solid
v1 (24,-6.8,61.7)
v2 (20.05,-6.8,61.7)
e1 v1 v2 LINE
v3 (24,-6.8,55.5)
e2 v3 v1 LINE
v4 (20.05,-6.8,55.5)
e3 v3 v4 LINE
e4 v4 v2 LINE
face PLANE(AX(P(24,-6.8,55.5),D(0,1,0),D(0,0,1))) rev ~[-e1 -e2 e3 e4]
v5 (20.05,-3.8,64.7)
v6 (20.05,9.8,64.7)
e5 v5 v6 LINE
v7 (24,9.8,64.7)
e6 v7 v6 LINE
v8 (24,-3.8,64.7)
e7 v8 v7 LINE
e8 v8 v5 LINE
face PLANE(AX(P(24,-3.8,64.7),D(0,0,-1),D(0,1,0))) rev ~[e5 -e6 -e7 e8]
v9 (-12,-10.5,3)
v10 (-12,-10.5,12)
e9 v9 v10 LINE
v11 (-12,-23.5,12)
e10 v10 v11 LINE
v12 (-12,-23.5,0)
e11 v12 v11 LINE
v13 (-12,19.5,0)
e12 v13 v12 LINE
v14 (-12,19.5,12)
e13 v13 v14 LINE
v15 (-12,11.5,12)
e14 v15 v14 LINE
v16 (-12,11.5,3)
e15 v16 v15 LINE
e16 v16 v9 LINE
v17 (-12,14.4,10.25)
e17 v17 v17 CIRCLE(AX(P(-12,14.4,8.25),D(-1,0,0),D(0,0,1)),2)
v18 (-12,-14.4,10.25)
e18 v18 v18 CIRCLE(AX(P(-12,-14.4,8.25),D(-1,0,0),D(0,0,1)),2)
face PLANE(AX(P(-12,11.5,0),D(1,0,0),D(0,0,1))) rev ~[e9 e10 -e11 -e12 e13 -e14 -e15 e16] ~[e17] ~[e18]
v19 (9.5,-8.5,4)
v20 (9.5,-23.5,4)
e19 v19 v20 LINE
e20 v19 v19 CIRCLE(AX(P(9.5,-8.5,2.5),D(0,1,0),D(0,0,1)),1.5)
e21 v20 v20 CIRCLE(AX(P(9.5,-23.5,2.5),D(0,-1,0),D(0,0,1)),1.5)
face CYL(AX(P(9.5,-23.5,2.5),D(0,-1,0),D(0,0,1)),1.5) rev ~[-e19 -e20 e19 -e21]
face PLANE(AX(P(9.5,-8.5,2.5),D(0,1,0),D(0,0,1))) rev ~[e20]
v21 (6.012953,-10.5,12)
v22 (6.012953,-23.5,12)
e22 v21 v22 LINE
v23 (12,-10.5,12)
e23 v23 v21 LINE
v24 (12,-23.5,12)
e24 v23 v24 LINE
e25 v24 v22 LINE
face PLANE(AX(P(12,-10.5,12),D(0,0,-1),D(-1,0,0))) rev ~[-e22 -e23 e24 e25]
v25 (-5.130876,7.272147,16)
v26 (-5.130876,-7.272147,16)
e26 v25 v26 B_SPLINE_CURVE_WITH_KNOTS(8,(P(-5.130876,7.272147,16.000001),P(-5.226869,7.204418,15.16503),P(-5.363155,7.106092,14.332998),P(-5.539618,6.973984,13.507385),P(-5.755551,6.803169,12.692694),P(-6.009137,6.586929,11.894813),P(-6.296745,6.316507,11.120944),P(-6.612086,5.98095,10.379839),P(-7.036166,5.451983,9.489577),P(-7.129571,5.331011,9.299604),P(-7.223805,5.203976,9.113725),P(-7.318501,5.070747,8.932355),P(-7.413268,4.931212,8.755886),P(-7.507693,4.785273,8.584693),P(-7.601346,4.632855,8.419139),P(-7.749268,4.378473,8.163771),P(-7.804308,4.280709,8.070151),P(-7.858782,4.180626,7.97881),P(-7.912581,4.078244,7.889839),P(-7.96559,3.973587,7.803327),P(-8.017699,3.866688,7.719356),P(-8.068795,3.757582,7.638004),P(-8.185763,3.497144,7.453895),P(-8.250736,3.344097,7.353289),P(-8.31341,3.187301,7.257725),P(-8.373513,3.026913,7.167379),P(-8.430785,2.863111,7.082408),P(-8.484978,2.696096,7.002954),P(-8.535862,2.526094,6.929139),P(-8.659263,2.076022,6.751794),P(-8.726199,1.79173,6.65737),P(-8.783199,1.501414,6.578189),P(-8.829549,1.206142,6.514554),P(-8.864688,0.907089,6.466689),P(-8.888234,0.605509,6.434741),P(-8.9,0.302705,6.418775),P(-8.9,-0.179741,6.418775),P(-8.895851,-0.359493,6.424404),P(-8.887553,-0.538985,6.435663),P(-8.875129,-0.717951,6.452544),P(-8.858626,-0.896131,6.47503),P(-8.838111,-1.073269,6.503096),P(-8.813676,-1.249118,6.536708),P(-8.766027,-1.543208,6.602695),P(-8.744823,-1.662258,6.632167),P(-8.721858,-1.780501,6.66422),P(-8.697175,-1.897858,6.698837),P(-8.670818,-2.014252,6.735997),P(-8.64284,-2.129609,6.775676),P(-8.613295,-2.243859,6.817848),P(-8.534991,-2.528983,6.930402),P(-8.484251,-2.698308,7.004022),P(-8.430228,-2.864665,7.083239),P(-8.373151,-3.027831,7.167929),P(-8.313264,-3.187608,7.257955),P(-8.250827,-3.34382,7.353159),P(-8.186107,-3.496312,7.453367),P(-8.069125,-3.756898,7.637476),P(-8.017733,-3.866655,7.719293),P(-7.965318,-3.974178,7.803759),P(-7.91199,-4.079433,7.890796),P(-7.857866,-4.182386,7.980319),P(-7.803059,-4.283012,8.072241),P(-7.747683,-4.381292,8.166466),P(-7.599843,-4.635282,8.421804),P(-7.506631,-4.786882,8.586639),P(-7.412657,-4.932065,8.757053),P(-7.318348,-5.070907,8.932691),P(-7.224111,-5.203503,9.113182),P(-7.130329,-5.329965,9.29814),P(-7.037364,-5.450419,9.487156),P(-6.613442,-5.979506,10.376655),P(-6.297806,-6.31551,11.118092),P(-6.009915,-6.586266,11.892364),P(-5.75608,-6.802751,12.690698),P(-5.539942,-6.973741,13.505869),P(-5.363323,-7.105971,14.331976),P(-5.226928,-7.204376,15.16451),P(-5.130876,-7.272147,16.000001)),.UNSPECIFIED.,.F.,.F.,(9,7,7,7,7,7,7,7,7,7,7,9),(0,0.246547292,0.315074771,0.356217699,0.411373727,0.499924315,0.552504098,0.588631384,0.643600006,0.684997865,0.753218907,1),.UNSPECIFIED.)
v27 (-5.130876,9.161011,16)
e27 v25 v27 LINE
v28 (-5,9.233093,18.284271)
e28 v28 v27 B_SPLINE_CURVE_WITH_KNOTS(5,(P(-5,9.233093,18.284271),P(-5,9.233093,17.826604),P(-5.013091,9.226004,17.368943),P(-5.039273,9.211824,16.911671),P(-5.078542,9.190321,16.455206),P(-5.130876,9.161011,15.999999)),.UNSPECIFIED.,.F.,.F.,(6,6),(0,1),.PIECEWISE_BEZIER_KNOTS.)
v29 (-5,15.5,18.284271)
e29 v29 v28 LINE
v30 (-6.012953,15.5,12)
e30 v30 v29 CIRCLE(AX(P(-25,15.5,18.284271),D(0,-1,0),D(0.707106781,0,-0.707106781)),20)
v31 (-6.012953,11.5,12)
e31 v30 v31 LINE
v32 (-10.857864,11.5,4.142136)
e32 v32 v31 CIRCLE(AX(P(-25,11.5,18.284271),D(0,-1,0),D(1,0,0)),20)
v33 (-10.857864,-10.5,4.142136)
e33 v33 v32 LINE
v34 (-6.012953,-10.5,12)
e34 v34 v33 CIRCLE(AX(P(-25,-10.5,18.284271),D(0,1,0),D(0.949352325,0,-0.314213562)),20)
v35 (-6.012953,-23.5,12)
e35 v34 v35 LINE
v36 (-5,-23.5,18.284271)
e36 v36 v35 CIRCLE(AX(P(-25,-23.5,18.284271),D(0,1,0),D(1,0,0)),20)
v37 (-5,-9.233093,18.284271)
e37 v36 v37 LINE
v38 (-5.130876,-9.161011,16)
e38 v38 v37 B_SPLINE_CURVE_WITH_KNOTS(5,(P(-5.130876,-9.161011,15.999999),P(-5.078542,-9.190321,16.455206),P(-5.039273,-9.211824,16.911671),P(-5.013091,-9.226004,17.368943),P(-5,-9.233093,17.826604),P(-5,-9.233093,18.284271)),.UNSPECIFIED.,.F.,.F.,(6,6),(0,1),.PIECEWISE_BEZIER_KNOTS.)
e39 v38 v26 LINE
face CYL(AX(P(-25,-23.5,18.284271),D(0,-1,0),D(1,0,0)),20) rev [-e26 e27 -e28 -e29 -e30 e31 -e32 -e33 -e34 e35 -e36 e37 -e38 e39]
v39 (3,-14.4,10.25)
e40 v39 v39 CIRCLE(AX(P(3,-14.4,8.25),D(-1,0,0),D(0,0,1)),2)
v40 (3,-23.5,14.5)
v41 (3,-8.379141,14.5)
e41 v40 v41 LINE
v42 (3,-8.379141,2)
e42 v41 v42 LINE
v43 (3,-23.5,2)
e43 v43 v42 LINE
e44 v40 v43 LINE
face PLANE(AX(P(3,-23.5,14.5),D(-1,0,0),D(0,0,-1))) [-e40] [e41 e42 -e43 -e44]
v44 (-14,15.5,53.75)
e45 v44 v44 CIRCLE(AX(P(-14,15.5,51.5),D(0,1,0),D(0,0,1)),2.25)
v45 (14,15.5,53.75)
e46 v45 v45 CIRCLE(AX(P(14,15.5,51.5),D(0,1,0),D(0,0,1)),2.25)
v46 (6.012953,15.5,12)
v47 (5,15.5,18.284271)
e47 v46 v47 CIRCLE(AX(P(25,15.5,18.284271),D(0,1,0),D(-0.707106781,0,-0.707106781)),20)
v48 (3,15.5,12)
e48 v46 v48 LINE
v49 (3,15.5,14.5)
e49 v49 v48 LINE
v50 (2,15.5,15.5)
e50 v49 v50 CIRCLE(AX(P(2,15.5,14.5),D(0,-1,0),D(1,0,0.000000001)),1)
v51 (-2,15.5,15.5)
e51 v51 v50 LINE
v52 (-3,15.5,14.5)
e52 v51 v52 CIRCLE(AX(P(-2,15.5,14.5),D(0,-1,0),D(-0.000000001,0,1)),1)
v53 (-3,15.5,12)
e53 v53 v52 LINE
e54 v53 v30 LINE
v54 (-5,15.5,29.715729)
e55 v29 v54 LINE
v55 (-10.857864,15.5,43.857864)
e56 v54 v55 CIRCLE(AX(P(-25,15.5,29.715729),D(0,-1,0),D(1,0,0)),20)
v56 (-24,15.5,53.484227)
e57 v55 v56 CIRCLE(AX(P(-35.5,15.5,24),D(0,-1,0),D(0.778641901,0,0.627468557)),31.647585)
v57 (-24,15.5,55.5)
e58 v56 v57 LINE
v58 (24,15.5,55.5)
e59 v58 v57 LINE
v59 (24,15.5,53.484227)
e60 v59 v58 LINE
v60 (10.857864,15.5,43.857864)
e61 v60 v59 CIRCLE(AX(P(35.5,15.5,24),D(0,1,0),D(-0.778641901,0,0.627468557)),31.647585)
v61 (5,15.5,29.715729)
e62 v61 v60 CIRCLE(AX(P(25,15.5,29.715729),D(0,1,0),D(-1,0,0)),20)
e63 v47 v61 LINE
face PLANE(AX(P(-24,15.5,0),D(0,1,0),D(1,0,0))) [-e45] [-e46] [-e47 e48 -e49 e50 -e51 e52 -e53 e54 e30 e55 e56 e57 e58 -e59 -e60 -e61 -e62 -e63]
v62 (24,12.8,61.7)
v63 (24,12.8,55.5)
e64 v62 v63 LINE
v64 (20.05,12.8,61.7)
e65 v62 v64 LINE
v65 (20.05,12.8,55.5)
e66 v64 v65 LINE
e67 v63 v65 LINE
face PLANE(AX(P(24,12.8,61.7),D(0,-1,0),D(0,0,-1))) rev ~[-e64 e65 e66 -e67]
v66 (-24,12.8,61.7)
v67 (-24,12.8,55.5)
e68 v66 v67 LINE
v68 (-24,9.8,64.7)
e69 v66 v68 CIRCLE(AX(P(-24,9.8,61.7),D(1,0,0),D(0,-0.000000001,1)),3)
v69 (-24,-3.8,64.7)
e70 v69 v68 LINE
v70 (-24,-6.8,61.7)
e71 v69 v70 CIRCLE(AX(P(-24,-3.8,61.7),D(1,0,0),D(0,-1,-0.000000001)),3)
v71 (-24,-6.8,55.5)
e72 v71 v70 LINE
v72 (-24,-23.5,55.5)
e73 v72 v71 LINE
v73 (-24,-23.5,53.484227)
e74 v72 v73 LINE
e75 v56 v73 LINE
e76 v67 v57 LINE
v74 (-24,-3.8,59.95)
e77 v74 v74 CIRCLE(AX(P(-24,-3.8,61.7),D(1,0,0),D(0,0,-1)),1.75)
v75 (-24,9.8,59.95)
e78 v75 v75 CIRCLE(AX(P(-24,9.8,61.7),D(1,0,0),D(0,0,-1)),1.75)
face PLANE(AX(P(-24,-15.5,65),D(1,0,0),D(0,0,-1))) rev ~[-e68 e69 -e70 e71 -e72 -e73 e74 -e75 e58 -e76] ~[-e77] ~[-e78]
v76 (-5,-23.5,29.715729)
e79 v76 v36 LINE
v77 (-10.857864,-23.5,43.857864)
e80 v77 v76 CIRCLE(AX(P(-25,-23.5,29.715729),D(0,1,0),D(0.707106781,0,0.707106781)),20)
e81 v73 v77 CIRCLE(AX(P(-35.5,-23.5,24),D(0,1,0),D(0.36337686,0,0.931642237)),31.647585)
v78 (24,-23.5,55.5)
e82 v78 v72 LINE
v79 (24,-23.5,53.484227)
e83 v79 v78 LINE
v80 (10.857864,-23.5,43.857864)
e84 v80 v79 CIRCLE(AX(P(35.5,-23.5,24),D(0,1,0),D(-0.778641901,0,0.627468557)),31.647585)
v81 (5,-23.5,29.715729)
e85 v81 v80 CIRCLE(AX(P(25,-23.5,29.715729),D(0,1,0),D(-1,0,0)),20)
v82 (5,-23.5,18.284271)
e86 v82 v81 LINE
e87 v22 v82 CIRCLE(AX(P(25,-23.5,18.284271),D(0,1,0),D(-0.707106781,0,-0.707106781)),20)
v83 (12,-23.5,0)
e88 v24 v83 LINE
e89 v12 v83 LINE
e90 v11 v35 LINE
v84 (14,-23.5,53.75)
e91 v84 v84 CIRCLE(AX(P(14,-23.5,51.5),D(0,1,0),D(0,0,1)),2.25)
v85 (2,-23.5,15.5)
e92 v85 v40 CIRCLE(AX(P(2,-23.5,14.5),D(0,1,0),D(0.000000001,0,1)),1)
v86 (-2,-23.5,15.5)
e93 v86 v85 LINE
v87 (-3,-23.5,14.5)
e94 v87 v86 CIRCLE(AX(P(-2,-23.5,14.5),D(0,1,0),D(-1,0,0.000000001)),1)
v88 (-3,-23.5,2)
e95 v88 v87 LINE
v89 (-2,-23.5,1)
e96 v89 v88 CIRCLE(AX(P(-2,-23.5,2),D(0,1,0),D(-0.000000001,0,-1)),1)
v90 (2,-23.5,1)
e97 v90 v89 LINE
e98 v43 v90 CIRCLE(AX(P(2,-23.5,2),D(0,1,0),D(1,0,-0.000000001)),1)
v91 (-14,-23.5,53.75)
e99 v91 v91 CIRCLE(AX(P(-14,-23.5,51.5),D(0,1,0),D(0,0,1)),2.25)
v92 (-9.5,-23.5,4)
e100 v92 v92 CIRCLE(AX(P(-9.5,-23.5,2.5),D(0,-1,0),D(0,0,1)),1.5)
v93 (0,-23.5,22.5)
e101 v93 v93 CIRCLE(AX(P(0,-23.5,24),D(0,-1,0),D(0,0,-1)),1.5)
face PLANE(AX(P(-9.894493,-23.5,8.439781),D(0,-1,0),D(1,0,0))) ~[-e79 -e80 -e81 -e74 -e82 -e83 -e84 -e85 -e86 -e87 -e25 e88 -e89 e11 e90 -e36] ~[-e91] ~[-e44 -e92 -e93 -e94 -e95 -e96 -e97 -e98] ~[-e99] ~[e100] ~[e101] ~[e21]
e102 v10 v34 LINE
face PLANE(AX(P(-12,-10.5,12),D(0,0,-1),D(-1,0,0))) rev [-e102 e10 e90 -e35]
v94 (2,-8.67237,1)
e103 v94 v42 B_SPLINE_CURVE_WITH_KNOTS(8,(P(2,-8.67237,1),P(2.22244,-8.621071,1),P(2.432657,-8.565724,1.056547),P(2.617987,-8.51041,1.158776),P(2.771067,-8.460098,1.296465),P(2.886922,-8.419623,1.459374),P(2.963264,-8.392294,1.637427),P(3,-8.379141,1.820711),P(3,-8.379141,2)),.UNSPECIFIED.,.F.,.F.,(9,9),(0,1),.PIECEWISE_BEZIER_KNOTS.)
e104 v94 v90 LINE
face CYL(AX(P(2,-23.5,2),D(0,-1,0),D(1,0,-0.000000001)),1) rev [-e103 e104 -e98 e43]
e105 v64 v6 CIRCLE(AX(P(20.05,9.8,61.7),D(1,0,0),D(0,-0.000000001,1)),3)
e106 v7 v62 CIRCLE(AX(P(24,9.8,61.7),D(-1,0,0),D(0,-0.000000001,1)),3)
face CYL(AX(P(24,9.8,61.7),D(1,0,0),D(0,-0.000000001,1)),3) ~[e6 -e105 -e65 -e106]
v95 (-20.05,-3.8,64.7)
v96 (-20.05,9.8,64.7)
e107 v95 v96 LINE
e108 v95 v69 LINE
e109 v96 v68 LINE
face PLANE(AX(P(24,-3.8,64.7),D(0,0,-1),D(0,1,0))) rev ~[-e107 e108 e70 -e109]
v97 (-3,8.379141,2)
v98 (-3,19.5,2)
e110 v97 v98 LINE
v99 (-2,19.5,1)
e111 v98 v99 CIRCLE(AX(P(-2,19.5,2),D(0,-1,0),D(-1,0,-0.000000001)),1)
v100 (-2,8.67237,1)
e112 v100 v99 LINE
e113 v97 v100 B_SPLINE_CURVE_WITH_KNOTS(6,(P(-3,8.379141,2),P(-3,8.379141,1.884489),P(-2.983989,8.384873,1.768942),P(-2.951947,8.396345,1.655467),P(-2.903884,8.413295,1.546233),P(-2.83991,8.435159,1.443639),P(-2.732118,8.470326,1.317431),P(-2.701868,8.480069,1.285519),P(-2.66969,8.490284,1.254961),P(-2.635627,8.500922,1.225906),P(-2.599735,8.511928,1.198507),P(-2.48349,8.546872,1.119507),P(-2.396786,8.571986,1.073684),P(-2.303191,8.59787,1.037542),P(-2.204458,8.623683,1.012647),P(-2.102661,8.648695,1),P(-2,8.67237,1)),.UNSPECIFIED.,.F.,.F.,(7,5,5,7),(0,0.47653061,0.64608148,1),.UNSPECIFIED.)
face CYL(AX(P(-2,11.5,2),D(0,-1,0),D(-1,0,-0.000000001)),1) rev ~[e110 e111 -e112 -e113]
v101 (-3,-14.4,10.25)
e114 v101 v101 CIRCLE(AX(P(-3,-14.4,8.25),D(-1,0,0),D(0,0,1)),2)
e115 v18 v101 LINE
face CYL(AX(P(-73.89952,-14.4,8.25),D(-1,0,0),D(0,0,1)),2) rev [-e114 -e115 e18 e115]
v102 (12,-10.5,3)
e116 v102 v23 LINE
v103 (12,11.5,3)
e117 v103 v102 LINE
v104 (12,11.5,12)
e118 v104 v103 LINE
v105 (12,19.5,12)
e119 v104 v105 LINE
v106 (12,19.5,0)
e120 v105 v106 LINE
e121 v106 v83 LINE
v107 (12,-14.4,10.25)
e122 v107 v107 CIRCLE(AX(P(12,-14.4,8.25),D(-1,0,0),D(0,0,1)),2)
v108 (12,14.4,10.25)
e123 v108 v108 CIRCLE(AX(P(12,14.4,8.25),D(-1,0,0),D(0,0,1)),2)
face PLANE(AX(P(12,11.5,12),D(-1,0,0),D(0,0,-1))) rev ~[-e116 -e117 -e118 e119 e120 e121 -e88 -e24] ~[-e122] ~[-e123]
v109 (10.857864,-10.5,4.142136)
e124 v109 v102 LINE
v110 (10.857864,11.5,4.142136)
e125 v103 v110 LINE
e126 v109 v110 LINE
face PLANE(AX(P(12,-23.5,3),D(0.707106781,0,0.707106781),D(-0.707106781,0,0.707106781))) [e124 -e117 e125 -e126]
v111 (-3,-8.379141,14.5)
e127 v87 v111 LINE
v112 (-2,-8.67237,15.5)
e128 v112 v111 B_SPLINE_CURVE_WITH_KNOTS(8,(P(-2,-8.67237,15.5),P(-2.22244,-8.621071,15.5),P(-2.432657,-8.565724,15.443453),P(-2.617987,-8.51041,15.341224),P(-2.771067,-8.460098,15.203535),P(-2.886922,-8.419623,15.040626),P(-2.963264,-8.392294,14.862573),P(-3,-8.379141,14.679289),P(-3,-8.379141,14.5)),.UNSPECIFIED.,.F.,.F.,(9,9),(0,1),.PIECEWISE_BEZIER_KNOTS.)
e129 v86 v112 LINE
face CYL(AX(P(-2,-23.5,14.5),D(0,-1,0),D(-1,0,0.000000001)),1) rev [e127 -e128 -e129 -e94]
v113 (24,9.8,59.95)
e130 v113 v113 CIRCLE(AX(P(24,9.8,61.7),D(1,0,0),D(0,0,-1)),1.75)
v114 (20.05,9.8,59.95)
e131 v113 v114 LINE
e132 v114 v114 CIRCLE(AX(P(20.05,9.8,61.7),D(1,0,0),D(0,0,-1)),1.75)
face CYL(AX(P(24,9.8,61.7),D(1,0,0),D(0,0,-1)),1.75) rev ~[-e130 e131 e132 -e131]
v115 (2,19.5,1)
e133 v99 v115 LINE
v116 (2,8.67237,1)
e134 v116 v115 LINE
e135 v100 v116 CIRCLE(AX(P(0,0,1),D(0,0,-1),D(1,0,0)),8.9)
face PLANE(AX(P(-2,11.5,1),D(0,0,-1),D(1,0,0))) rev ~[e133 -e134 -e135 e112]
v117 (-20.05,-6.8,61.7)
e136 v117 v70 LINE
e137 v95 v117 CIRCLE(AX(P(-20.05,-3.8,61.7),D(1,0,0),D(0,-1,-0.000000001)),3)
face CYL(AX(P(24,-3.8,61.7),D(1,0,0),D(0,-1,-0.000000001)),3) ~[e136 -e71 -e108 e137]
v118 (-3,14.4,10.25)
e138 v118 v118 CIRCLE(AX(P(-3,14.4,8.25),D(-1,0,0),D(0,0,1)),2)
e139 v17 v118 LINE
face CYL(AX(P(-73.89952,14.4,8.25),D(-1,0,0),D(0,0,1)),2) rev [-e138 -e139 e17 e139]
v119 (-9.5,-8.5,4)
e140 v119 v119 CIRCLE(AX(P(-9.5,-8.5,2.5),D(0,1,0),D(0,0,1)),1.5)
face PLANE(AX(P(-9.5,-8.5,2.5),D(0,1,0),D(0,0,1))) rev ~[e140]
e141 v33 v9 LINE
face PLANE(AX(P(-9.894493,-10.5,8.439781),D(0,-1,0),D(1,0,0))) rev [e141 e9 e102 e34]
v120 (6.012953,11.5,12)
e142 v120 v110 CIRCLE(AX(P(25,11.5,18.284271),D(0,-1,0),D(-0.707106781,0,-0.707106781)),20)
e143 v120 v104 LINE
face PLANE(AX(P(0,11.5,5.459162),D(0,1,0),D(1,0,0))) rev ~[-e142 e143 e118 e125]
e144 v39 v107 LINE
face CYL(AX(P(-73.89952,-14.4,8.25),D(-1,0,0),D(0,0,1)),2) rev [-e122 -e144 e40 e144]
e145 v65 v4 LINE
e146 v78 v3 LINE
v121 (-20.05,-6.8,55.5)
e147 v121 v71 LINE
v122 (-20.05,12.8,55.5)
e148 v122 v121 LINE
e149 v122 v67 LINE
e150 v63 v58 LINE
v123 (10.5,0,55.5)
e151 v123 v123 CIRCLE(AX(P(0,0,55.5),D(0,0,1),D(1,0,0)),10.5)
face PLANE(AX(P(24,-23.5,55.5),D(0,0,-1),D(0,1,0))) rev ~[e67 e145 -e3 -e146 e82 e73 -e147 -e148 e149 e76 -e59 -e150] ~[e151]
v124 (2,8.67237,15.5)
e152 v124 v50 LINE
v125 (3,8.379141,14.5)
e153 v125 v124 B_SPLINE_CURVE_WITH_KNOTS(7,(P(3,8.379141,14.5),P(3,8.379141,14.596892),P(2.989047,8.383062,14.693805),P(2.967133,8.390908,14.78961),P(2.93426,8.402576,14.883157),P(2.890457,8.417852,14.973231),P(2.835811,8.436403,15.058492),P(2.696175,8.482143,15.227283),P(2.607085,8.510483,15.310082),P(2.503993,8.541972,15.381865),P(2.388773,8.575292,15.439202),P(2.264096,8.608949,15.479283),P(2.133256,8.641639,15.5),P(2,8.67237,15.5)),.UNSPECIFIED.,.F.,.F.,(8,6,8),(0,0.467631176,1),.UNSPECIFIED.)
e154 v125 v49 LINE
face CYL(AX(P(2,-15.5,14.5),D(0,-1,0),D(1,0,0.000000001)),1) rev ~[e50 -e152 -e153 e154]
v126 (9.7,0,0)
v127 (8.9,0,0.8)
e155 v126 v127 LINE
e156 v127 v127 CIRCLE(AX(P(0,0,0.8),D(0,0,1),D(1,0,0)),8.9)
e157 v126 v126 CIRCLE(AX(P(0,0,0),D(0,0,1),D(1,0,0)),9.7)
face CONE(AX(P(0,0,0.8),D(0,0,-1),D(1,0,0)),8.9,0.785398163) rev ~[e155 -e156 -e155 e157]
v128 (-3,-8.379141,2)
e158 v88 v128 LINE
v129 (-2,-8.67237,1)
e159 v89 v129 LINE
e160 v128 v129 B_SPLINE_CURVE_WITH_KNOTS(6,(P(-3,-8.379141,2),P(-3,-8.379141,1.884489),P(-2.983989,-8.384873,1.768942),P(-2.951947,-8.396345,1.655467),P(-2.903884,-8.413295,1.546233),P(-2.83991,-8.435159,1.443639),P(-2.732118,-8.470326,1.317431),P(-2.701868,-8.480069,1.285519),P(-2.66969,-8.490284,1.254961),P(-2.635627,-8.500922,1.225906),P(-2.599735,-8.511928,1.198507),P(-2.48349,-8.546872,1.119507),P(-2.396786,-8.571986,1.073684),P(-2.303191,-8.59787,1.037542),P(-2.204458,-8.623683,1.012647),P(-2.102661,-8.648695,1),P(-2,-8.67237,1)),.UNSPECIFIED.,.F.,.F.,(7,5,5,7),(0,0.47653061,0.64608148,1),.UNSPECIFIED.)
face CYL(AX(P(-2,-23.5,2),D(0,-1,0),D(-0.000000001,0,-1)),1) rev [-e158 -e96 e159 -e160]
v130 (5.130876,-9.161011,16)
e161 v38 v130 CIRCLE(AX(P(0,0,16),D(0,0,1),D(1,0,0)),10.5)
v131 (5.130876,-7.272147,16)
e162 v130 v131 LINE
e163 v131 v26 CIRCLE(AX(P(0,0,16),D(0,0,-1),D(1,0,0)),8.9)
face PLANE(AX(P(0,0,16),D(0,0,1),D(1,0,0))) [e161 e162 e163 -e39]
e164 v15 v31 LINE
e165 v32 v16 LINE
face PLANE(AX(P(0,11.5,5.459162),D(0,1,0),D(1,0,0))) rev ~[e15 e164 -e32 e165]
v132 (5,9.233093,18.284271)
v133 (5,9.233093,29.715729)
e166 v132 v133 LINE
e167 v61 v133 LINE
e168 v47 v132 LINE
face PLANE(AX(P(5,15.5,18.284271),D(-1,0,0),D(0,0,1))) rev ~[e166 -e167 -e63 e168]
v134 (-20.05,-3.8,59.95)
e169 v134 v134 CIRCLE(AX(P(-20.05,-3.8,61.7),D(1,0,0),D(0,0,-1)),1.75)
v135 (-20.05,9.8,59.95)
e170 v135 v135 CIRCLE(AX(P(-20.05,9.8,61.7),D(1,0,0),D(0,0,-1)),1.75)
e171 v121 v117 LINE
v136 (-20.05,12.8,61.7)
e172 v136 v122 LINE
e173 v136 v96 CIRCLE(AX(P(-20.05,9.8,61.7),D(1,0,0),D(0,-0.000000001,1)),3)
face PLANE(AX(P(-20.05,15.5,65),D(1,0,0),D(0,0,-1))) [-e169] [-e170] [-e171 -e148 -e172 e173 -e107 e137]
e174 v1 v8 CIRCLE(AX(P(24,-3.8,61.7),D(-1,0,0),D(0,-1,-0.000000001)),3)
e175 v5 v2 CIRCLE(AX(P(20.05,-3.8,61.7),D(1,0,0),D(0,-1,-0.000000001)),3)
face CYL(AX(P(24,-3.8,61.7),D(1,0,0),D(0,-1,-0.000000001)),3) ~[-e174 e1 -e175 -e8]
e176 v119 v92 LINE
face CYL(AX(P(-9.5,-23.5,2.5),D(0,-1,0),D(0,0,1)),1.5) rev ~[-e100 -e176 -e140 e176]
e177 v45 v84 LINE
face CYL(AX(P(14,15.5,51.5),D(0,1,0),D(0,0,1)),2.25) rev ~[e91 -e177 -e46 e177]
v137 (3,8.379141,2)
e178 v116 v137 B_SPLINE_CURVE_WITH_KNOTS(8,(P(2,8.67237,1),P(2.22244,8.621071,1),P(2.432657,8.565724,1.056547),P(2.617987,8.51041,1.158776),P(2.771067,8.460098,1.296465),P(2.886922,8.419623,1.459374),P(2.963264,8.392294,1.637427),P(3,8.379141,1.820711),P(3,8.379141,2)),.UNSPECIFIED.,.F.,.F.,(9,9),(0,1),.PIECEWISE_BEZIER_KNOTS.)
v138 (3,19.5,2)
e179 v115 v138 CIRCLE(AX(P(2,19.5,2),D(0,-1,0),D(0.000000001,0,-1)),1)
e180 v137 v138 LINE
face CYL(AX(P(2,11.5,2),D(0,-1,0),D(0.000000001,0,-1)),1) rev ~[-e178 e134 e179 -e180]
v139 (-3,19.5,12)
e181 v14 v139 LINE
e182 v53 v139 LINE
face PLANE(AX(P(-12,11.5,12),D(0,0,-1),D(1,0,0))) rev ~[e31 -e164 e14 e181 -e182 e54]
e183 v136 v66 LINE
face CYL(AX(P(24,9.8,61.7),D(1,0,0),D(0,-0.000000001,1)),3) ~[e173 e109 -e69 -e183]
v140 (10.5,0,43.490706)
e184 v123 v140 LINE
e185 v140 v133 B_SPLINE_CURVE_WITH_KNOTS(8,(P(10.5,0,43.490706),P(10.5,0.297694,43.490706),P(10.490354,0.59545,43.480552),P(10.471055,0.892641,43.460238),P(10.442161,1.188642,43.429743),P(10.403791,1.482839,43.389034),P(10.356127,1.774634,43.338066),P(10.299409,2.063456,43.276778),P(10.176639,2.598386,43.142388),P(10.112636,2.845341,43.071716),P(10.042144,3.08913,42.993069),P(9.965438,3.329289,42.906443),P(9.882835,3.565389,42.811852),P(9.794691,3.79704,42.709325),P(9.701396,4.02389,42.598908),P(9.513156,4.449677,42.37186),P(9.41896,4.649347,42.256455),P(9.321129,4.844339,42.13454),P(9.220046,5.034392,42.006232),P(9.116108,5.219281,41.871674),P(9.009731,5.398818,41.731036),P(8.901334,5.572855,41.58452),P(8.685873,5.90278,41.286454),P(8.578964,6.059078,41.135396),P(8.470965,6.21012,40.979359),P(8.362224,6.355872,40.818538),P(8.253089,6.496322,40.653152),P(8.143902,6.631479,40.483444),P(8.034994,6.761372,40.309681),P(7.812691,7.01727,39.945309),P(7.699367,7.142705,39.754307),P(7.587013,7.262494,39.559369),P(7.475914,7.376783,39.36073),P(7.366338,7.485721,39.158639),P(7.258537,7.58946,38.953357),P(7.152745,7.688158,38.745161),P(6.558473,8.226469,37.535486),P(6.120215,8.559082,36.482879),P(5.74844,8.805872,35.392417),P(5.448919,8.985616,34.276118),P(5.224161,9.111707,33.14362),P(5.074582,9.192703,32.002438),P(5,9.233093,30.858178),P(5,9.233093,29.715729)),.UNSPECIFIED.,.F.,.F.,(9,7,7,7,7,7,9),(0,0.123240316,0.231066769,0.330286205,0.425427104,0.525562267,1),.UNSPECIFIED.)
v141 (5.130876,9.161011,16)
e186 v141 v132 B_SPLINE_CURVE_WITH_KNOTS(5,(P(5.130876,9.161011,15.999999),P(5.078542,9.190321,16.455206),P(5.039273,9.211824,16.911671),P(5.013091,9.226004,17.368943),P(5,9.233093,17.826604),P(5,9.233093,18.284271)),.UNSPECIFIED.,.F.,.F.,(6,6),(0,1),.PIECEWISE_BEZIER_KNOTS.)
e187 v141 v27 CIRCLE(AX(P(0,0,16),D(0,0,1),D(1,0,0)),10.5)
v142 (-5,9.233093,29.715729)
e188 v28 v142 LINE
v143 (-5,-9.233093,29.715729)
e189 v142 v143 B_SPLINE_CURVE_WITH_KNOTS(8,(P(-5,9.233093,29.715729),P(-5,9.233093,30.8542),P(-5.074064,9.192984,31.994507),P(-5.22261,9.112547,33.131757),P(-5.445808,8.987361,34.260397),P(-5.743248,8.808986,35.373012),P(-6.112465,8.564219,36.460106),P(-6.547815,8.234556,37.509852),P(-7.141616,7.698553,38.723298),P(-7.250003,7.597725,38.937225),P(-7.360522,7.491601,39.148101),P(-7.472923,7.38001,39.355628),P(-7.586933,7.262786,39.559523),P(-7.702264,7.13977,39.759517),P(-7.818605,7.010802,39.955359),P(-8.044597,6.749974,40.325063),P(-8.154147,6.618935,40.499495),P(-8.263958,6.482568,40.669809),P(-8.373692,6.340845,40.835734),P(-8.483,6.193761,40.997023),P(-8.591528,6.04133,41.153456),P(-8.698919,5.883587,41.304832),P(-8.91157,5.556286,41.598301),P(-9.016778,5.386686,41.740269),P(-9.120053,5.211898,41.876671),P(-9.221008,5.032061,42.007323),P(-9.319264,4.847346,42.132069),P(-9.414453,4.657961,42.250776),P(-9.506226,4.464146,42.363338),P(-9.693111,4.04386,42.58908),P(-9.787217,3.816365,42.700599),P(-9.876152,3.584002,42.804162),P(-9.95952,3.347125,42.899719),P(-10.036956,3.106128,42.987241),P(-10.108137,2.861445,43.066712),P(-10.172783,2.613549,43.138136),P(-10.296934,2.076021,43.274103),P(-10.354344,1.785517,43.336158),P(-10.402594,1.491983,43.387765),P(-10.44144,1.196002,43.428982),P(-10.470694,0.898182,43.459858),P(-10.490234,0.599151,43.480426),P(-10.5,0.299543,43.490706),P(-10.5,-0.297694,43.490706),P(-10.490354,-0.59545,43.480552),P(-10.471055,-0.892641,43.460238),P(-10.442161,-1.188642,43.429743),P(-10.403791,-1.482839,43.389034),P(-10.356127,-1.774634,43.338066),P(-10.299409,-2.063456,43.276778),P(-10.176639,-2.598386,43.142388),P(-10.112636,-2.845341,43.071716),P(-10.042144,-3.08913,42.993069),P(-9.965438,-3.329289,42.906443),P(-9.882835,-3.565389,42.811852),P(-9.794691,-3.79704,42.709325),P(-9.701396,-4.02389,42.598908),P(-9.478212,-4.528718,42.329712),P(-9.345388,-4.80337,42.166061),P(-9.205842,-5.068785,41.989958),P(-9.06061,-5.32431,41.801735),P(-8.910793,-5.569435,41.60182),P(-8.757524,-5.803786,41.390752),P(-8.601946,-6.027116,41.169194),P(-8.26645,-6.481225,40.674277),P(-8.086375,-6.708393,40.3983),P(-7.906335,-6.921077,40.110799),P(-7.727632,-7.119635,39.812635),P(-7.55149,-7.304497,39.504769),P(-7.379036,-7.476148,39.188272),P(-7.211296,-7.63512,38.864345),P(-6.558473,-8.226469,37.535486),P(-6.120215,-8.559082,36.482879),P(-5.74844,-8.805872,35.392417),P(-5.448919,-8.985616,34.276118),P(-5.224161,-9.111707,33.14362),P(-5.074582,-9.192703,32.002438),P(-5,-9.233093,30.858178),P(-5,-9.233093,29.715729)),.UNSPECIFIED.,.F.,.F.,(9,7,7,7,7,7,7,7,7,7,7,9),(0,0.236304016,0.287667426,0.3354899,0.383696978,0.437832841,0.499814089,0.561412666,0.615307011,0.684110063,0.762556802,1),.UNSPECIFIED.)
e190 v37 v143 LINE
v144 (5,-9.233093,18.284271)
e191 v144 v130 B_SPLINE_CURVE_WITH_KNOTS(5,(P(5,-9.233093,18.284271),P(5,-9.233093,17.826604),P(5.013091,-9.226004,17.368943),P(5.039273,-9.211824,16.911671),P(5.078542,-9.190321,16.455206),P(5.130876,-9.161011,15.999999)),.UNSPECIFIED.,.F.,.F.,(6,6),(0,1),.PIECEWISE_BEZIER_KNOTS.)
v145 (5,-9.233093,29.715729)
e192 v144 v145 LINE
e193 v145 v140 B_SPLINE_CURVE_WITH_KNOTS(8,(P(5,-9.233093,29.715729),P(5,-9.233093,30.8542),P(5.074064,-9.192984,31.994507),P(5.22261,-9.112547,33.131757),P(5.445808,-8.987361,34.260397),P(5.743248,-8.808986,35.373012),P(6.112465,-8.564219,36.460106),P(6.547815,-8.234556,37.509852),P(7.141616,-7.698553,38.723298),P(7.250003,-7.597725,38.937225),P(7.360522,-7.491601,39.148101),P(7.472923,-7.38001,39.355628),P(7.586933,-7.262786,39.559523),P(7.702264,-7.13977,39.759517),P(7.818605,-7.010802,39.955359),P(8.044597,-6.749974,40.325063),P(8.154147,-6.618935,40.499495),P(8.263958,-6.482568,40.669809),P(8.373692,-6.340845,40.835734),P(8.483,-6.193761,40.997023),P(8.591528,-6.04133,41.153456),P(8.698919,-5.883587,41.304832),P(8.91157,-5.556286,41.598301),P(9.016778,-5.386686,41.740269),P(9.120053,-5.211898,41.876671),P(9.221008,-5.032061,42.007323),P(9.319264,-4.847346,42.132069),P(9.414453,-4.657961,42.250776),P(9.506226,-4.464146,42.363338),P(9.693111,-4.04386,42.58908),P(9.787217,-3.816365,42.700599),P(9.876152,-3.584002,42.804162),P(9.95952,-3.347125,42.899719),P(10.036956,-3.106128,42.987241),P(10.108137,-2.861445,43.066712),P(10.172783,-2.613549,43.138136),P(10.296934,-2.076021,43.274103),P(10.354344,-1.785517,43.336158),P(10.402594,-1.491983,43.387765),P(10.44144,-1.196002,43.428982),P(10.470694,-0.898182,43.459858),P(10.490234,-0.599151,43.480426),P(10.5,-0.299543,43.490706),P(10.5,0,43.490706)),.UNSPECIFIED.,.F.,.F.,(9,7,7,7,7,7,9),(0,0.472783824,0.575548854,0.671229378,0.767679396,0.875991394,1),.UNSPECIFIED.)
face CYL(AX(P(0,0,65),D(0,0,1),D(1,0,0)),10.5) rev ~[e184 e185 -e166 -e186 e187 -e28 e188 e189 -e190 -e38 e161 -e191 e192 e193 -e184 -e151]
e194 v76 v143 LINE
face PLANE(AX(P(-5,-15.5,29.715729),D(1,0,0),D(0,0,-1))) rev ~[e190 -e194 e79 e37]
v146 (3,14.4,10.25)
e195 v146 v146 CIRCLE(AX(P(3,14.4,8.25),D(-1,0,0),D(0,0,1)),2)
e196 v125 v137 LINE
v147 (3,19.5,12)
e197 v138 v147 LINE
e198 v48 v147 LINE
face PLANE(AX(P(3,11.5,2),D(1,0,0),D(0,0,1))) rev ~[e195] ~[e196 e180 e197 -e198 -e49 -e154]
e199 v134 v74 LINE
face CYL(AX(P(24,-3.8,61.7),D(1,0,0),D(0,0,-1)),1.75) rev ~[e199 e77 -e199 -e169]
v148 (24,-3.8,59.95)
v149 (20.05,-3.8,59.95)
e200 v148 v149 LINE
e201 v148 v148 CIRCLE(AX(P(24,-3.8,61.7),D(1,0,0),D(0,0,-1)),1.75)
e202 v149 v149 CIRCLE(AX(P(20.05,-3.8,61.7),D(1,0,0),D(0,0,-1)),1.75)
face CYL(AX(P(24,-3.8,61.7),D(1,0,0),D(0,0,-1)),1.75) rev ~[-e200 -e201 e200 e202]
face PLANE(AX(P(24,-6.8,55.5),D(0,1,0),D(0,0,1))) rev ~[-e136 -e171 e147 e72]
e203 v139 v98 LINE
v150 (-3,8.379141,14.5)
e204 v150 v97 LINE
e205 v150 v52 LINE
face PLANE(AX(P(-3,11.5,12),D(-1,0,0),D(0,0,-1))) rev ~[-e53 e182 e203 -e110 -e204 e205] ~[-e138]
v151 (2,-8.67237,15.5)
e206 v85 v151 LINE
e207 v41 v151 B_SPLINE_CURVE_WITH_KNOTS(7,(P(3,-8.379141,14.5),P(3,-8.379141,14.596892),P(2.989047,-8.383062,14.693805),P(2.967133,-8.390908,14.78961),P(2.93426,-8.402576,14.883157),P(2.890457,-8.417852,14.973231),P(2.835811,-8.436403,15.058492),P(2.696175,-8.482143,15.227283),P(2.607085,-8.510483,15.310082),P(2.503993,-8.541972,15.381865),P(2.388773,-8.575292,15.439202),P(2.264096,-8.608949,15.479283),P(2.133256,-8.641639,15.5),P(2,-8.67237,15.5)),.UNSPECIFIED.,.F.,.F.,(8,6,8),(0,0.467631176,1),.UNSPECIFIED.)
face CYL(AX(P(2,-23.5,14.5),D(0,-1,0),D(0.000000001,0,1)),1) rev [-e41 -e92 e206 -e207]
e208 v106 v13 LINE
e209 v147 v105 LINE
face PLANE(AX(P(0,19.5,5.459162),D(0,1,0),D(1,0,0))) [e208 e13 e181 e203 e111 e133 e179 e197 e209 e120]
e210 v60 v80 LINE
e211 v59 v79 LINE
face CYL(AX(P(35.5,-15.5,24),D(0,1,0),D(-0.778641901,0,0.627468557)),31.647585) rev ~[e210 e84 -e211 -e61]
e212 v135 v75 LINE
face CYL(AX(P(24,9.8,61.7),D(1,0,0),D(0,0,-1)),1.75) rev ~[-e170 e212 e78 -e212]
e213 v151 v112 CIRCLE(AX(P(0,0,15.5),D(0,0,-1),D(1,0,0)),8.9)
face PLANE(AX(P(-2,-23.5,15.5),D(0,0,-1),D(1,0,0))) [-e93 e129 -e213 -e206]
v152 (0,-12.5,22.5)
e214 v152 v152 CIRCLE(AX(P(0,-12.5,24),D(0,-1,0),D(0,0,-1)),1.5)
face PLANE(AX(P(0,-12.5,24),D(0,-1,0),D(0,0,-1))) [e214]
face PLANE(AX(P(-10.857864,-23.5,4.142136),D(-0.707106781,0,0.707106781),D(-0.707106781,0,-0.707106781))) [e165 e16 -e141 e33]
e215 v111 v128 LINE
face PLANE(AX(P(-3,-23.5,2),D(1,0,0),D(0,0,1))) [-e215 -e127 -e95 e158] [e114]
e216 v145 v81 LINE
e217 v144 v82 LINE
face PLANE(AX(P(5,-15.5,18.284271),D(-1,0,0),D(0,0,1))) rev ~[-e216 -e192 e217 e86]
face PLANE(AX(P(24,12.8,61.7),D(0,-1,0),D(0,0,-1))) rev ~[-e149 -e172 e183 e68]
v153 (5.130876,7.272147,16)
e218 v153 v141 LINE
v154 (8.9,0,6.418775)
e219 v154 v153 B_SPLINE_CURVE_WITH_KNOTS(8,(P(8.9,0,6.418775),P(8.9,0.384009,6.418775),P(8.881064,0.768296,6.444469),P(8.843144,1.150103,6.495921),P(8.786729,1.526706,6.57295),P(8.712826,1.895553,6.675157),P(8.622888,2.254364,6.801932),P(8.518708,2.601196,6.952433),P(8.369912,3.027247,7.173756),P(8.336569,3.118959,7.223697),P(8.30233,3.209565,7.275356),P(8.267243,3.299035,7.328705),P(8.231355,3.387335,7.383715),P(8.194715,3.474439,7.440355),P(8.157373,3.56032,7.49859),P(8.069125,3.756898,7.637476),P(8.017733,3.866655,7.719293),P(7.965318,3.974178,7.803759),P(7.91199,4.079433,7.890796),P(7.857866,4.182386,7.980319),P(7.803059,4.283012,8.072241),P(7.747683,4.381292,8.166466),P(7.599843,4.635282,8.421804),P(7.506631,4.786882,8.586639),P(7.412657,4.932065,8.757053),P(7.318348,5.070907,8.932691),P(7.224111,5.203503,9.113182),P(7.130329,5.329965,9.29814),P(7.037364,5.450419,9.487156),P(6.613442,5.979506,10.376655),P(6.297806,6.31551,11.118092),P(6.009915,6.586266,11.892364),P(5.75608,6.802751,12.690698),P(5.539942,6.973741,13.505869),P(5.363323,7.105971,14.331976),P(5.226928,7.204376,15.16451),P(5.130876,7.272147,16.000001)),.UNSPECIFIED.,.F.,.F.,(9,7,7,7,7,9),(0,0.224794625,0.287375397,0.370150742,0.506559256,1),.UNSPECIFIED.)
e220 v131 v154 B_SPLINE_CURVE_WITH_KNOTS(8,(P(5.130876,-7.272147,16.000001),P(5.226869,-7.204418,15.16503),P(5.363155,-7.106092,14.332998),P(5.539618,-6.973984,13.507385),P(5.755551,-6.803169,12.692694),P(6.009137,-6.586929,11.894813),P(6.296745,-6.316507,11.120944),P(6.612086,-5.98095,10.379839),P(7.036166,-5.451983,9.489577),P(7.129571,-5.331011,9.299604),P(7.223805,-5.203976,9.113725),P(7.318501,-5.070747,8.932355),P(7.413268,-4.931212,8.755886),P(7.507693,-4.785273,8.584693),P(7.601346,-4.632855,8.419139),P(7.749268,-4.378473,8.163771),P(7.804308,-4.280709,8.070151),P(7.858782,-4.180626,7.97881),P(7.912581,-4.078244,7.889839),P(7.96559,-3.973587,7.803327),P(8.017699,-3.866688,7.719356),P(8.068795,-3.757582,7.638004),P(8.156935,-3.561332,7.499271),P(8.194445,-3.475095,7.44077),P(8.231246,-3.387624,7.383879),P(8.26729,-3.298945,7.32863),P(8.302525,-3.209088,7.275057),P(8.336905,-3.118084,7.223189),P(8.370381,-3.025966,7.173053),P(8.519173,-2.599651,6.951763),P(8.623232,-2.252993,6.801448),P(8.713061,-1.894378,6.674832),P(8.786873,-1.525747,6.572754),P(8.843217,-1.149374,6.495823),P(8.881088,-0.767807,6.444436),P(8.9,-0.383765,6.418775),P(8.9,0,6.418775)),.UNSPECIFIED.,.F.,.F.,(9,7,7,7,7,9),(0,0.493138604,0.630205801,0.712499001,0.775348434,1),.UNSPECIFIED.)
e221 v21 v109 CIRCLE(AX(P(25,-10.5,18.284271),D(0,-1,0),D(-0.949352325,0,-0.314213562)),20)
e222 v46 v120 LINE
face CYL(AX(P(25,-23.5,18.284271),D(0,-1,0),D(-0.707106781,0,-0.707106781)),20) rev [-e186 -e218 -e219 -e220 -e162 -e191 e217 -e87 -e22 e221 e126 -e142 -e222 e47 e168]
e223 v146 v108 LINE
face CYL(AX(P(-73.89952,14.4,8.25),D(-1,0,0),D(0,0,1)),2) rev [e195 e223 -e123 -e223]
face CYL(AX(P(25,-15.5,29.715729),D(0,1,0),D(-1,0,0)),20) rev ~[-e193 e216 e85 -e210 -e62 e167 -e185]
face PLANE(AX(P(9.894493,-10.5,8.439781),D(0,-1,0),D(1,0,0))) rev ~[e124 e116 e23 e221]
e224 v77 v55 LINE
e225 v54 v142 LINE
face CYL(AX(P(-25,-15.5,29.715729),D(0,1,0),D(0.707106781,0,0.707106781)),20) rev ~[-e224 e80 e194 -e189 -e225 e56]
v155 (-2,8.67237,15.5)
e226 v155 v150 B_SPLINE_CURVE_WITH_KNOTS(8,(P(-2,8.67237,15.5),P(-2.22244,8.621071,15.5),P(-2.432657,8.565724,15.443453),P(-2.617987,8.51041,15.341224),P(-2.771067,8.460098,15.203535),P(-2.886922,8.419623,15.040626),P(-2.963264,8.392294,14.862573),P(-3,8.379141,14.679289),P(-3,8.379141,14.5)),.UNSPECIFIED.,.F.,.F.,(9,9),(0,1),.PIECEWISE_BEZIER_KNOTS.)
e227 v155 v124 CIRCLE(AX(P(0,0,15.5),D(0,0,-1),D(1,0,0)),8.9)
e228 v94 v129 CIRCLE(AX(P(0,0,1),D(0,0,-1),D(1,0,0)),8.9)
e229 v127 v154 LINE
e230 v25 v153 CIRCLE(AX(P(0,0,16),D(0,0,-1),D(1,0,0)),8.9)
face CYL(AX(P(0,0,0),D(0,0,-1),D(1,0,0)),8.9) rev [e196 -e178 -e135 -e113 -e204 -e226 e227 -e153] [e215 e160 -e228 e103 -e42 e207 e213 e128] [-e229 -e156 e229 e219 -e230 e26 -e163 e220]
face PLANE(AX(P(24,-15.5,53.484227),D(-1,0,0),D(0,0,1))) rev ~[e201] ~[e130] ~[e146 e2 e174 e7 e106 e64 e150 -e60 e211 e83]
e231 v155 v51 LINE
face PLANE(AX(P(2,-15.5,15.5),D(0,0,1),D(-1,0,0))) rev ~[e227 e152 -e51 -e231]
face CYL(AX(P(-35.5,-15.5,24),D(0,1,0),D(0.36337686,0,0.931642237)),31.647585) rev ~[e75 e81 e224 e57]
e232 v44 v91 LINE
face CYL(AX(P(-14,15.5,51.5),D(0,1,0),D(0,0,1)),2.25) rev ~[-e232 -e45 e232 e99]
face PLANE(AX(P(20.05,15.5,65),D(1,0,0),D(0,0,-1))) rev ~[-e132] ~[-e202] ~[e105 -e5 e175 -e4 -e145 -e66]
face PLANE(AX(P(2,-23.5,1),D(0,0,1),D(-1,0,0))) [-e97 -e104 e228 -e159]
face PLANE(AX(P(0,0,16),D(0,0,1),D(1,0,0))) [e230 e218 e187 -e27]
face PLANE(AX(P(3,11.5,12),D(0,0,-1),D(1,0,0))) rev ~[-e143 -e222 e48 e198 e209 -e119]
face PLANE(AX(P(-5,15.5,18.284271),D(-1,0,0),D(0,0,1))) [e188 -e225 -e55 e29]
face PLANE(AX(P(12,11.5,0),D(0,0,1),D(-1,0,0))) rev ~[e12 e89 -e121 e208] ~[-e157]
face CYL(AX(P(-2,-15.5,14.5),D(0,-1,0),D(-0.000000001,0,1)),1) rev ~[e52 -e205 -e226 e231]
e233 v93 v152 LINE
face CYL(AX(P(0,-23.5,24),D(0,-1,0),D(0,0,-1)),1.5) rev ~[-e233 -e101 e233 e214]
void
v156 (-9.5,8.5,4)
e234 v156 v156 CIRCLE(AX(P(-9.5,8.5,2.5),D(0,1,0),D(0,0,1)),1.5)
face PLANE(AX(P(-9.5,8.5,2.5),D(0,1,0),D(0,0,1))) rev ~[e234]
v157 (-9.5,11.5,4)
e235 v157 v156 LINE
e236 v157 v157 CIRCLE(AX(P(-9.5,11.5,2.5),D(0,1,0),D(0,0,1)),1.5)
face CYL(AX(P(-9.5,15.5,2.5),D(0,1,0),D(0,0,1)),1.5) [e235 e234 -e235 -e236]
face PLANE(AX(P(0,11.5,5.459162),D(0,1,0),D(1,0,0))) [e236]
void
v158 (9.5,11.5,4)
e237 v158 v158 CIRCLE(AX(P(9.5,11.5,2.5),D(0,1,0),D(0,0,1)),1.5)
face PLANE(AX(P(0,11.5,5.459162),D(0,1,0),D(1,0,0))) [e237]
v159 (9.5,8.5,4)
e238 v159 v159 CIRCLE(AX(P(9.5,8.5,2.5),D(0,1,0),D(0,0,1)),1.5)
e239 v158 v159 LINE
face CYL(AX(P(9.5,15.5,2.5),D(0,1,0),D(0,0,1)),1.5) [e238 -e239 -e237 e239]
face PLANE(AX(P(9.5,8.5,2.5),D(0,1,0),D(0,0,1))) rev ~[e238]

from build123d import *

# Parameters (mm, degrees)
SKETCH_1_W                = 48
SKETCH_1_H                = 31
SKETCH_1_R                = 8.9
EXTRUDE_1_DEPTH           = 65
SKETCH_2_R                = 10.5
CUT_EXTRUDE_1_DEPTH       = 49
CUT_EXTRUDE_3_DEPTH       = 76.907838857
CUT_EXTRUDE_START         = -31
CUT_EXTRUDE_5_DEPTH       = 107.907838984
SKETCH_9_R                = 1.5
CUT_EXTRUDE_6_DEPTH       = 7
CUT_EXTRUDE_START_2       = -24
SKETCH_9_2_R              = 1.5
CUT_EXTRUDE_7_DEPTH       = 7
EXTRUDE_4_DEPTH           = 8
SKETCH_11_R               = 2.25
CUT_EXTRUDE_9_DEPTH       = 80.511005658
SKETCH_14_R               = 1.5
CUT_EXTRUDE_10_DEPTH      = 11
SKETCH_15_W               = 40.1
SKETCH_15_H               = 9.5
CUT_EXTRUDE_11_DEPTH      = 80.511005658
SKETCH_17_R               = 1.75
CUT_EXTRUDE_13_DEPTH      = 85.150163426
SKETCH_19_W               = 3
SKETCH_19_H               = 3
CUT_EXTRUDE_14_DEPTH      = 76.651107105
CHAMFER_1_SIZE            = 0.8
EXTRUDE_START             = 8
SKETCH_21_R               = 1.5
EXTRUDE_6_DEPTH           = 8
EXTRUDE_START_2           = -13
EXTRUDE_7_DEPTH           = 13
EXTRUDE_8_DEPTH           = 4
EXTRUDE_8_DEPTH_BACK      = 4
CUT_EXTRUDE_15_DEPTH      = 73.899519921
CUT_EXTRUDE_15_DEPTH_BACK = 73.899519921
SKETCH_20_R               = 2


with BuildPart() as part:
    # 草图1 → 凸台-拉伸1 (new body)
    with BuildSketch(Plane.XY):
        Rectangle(SKETCH_1_W, SKETCH_1_H)
        Circle(SKETCH_1_R, mode=Mode.SUBTRACT)
    extrude(amount=EXTRUDE_1_DEPTH)

    # 草图2 → 切除-拉伸1 (cut)
    with BuildSketch(Plane.XY.offset(65)):
        Circle(SKETCH_2_R)
    extrude(amount=-CUT_EXTRUDE_1_DEPTH, mode=Mode.SUBTRACT)

    # 草图4 → 切除-拉伸3 (cut, through all)
    with BuildSketch(Plane(origin=(0, 15.5, 0), x_dir=(1, 0, 0), z_dir=(0, 1, 0))):
        with BuildLine():
            Line((-24, 9), (-10.857864376, -4.142135624))
            ThreePointArc((-10.857864376, -4.142135624), (-6.52240935, -10.6306026), (-5, -18.284271247))
            Line((-5, -18.284271247), (-5, -29.715728753))
            ThreePointArc((-5, -29.715728753), (-6.52240935, -37.3693974), (-10.857864376, -43.857864376))
            ThreePointArc((-10.857864376, -43.857864376), (-16.798925034, -49.531146093), (-24, -53.484226727))
            Line((-24, -53.484226727), (-24, 9))
        make_face()
        with BuildLine():
            Line((5, -18.284271247), (5, -29.715728753))
            ThreePointArc((5, -29.715728753), (6.52240935, -37.3693974), (10.857864376, -43.857864376))
            ThreePointArc((10.857864376, -43.857864376), (16.798925034, -49.531146093), (24, -53.484226727))
            Line((24, -53.484226727), (24, 9))
            Line((24, 9), (10.857864376, -4.142135624))
            ThreePointArc((10.857864376, -4.142135624), (6.52240935, -10.6306026), (5, -18.284271247))
        make_face()
    extrude(amount=-CUT_EXTRUDE_3_DEPTH, mode=Mode.SUBTRACT)

    # 草图6 → 切除-拉伸5 (cut, through all)
    with BuildSketch(Plane(origin=(0, 15.5, 0), x_dir=(1, 0, 0), z_dir=(0, 1, 0)).offset(CUT_EXTRUDE_START)):
        with BuildLine():
            Line((-2, -1), (2, -1))
            ThreePointArc((2, -1), (2.707106781, -1.292893219), (3, -2))
            Line((3, -2), (3, -14.5))
            ThreePointArc((3, -14.5), (2.707106781, -15.207106781), (2, -15.5))
            Line((2, -15.5), (-2, -15.5))
            ThreePointArc((-2, -15.5), (-2.707106781, -15.207106781), (-3, -14.5))
            Line((-3, -14.5), (-3, -2))
            ThreePointArc((-3, -2), (-2.707106781, -1.292893219), (-2, -1))
        make_face()
    extrude(amount=CUT_EXTRUDE_5_DEPTH, mode=Mode.SUBTRACT)

    # 草图9 → 切除-拉伸6 (cut)
    with BuildSketch(Plane(origin=(0, 15.5, 0), x_dir=(1, 0, 0), z_dir=(0, 1, 0))):
        with Locations(Location((9.5, -2.5, 0), (0, 0, 270))):
            Circle(SKETCH_9_R)
        with Locations(Location((-9.5, -2.5, 0), (0, 0, 270))):
            Circle(SKETCH_9_R)
    extrude(amount=-CUT_EXTRUDE_6_DEPTH, mode=Mode.SUBTRACT)

    # 草图9<2> → 切除-拉伸7 (cut)
    with BuildSketch(Plane(origin=(0, 15.5, 0), x_dir=(1, 0, 0), z_dir=(0, 1, 0)).offset(CUT_EXTRUDE_START_2)):
        with Locations(Location((9.5, -2.5, 0), (0, 0, 270))):
            Circle(SKETCH_9_2_R)
        with Locations(Location((-9.5, -2.5, 0), (0, 0, 270))):
            Circle(SKETCH_9_2_R)
    extrude(amount=-CUT_EXTRUDE_7_DEPTH, mode=Mode.SUBTRACT)

    # 草图12 → 凸台-拉伸4 (add)
    with BuildSketch(Plane.XZ.offset(15.5)):
        with BuildLine():
            Line((-5, 18.284271247), (5, 18.284271247))
            Line((5, 18.284271247), (5, 29.715728753))
            ThreePointArc((5, 29.715728753), (6.52240935, 37.3693974), (10.857864376, 43.857864376))
            ThreePointArc((10.857864376, 43.857864376), (16.798925034, 49.531146093), (24, 53.484226727))
            Line((24, 53.484226727), (24, 65))
            Line((24, 65), (-24, 65))
            Line((-24, 65), (-24, 53.484226727))
            ThreePointArc((-24, 53.484226727), (-16.798925034, 49.531146093), (-10.857864376, 43.857864376))
            ThreePointArc((-10.857864376, 43.857864376), (-6.52240935, 37.3693974), (-5, 29.715728753))
            Line((-5, 29.715728753), (-5, 18.284271247))
        make_face()
    extrude(amount=EXTRUDE_4_DEPTH)

    # 草图11 → 切除-拉伸9 (cut, through all)
    with BuildSketch(Plane(origin=(0, 15.5, 0), x_dir=(1, 0, 0), z_dir=(0, 1, 0))):
        with Locations(Location((14, -51.5, 0), (0, 0, 270))):
            Circle(SKETCH_11_R)
        with Locations(Location((-14, -51.5, 0), (0, 0, 270))):
            Circle(SKETCH_11_R)
    extrude(amount=-CUT_EXTRUDE_9_DEPTH, mode=Mode.SUBTRACT)

    # 草图14 → 切除-拉伸10 (cut)
    with BuildSketch(Plane.XZ.offset(23.5)):
        with Locations(Location((0, 24, 0), (0, 0, 270))):
            Circle(SKETCH_14_R)
    extrude(amount=-CUT_EXTRUDE_10_DEPTH, mode=Mode.SUBTRACT)

    # 草图15 → 切除-拉伸11 (cut, through all)
    with BuildSketch(Plane(origin=(0, 15.5, 0), x_dir=(1, 0, 0), z_dir=(0, 1, 0))):
        with Locations((0, -60.25)):
            Rectangle(SKETCH_15_W, SKETCH_15_H)
    extrude(amount=-CUT_EXTRUDE_11_DEPTH, mode=Mode.SUBTRACT)

    # 草图17 → 切除-拉伸13 (cut, through all)
    with BuildSketch(Plane(origin=(24, 0, 0), x_dir=(0, 0, -1), z_dir=(1, 0, 0))):
        with Locations((-61.7, 9.8)):
            Circle(SKETCH_17_R)
        with Locations((-61.7, -3.8)):
            Circle(SKETCH_17_R)
        with BuildLine():
            Line((-55.5, -23.5), (-55.5, -6.8))
            Line((-55.5, -6.8), (-61.7, -6.8))
            ThreePointArc((-61.7, -6.8), (-63.821320344, -5.921320344), (-64.7, -3.8))
            Line((-64.7, -3.8), (-64.7, 9.8))
            ThreePointArc((-64.7, 9.8), (-63.821320344, 11.921320344), (-61.7, 12.8))
            Line((-61.7, 12.8), (-55.5, 12.8))
            Line((-55.5, 12.8), (-55.5, 15.5))
            Line((-55.5, 15.5), (-64.7, 15.5))
            Line((-64.7, 15.5), (-94.5, 15.5))
            Line((-94.5, 15.5), (-94.5, -23.5))
            Line((-94.5, -23.5), (-55.5, -23.5))
        make_face()
    extrude(amount=-CUT_EXTRUDE_13_DEPTH, mode=Mode.SUBTRACT)

    # 草图19 → 切除-拉伸14 (cut, through all)
    with BuildSketch(Plane.XZ.offset(15.5)):
        with Locations((-13.5, 1.5)):
            Rectangle(SKETCH_19_W, SKETCH_19_H)
        with Locations((13.5, 1.5)):
            Rectangle(SKETCH_19_W, SKETCH_19_H)
    extrude(amount=-CUT_EXTRUDE_14_DEPTH, mode=Mode.SUBTRACT)

    # 倒角1
    chamfer_1_edges = [part.edges().sort_by_distance(p)[0] for p in [
        (-8.9, 0, 0),
    ]]
    chamfer(chamfer_1_edges, length=CHAMFER_1_SIZE)

    # 草图21 → 凸台-拉伸6 (add)
    with BuildSketch(Plane.XZ.offset(15.5).offset(EXTRUDE_START)):
        with BuildLine():
            Line((-10.857864376, 4.142135624), (-12, 3))
            Line((-12, 3), (-12, 0))
            Line((-12, 0), (12, 0))
            Line((12, 0), (12, 3))
            Line((12, 3), (10.857864376, 4.142135624))
            ThreePointArc((10.857864376, 4.142135624), (6.52240935, 10.6306026), (5, 18.284271247))
            Line((5, 18.284271247), (-5, 18.284271247))
            ThreePointArc((-5, 18.284271247), (-6.52240935, 10.6306026), (-10.857864376, 4.142135624))
        make_face()
        with Locations(Location((9.5, 2.5, 0), (0, 0, 90))):
            Circle(SKETCH_21_R, mode=Mode.SUBTRACT)
        with Locations(Location((-9.5, 2.5, 0), (0, 0, 90))):
            Circle(SKETCH_21_R, mode=Mode.SUBTRACT)
        with BuildLine():
            Line((2, 1), (-2, 1))
            ThreePointArc((-2, 1), (-2.707106781, 1.292893219), (-3, 2))
            Line((-3, 2), (-3, 14.5))
            ThreePointArc((-3, 14.5), (-2.707106781, 15.207106781), (-2, 15.5))
            Line((-2, 15.5), (2, 15.5))
            ThreePointArc((2, 15.5), (2.707106781, 15.207106781), (3, 14.5))
            Line((3, 14.5), (3, 2))
            ThreePointArc((3, 2), (2.707106781, 1.292893219), (2, 1))
        make_face(mode=Mode.SUBTRACT)
    extrude(amount=-EXTRUDE_6_DEPTH)

    # 草图22 → 凸台-拉伸7 (add)
    with BuildSketch(Plane.XZ.offset(23.5).offset(EXTRUDE_START_2)):
        with BuildLine():
            Line((12, 3), (12, 12))
            Line((12, 12), (6.012953497, 12))
            ThreePointArc((6.012953497, 12), (7.975835256, 7.787709202), (10.857864376, 4.142135624))
            Line((10.857864376, 4.142135624), (12, 3))
        make_face()
    extrude_7 = extrude(amount=EXTRUDE_7_DEPTH)

    # 镜向1: 凸台-拉伸7 across plane
    add(extrude_7.mirror(Plane(origin=(0, 0, 0), x_dir=(0, 0, 1), z_dir=(1, 0, 0))))

    # 草图23 → 凸台-拉伸8 (add, two sides: drawn at the far end of the back side and taken through both)
    with BuildSketch(Plane(origin=(0, 15.5, 0), x_dir=(1, 0, 0), z_dir=(0, 1, 0)).offset(-EXTRUDE_8_DEPTH_BACK)):
        with BuildLine():
            Line((-12, 0), (-12, -12))
            Line((-12, -12), (-3, -12))
            Line((-3, -12), (-3, -2))
            ThreePointArc((-3, -2), (-2.707106781, -1.292893219), (-2, -1))
            Line((-2, -1), (2, -1))
            ThreePointArc((2, -1), (2.707106781, -1.292893219), (3, -2))
            Line((3, -2), (3, -12))
            Line((3, -12), (6.012953497, -12))
            Line((6.012953497, -12), (12, -12))
            Line((12, -12), (12, 0))
            Line((12, 0), (-12, 0))
        make_face()
    extrude(amount=EXTRUDE_8_DEPTH + EXTRUDE_8_DEPTH_BACK)

    # 草图20 → 切除-拉伸15 (cut, two sides: drawn at the far end of the back side and taken through both)
    with BuildSketch(Plane(origin=(0, 0, 0), x_dir=(0, 0, -1), z_dir=(1, 0, 0)).offset(-CUT_EXTRUDE_15_DEPTH_BACK)):
        with Locations(Location((-8.25, 14.4, 0), (0, 0, 180))):
            Circle(SKETCH_20_R)
        with Locations(Location((-8.25, -14.4, 0), (0, 0, 180))):
            Circle(SKETCH_20_R)
    extrude(amount=CUT_EXTRUDE_15_DEPTH + CUT_EXTRUDE_15_DEPTH_BACK, mode=Mode.SUBTRACT)


solid = part.part
